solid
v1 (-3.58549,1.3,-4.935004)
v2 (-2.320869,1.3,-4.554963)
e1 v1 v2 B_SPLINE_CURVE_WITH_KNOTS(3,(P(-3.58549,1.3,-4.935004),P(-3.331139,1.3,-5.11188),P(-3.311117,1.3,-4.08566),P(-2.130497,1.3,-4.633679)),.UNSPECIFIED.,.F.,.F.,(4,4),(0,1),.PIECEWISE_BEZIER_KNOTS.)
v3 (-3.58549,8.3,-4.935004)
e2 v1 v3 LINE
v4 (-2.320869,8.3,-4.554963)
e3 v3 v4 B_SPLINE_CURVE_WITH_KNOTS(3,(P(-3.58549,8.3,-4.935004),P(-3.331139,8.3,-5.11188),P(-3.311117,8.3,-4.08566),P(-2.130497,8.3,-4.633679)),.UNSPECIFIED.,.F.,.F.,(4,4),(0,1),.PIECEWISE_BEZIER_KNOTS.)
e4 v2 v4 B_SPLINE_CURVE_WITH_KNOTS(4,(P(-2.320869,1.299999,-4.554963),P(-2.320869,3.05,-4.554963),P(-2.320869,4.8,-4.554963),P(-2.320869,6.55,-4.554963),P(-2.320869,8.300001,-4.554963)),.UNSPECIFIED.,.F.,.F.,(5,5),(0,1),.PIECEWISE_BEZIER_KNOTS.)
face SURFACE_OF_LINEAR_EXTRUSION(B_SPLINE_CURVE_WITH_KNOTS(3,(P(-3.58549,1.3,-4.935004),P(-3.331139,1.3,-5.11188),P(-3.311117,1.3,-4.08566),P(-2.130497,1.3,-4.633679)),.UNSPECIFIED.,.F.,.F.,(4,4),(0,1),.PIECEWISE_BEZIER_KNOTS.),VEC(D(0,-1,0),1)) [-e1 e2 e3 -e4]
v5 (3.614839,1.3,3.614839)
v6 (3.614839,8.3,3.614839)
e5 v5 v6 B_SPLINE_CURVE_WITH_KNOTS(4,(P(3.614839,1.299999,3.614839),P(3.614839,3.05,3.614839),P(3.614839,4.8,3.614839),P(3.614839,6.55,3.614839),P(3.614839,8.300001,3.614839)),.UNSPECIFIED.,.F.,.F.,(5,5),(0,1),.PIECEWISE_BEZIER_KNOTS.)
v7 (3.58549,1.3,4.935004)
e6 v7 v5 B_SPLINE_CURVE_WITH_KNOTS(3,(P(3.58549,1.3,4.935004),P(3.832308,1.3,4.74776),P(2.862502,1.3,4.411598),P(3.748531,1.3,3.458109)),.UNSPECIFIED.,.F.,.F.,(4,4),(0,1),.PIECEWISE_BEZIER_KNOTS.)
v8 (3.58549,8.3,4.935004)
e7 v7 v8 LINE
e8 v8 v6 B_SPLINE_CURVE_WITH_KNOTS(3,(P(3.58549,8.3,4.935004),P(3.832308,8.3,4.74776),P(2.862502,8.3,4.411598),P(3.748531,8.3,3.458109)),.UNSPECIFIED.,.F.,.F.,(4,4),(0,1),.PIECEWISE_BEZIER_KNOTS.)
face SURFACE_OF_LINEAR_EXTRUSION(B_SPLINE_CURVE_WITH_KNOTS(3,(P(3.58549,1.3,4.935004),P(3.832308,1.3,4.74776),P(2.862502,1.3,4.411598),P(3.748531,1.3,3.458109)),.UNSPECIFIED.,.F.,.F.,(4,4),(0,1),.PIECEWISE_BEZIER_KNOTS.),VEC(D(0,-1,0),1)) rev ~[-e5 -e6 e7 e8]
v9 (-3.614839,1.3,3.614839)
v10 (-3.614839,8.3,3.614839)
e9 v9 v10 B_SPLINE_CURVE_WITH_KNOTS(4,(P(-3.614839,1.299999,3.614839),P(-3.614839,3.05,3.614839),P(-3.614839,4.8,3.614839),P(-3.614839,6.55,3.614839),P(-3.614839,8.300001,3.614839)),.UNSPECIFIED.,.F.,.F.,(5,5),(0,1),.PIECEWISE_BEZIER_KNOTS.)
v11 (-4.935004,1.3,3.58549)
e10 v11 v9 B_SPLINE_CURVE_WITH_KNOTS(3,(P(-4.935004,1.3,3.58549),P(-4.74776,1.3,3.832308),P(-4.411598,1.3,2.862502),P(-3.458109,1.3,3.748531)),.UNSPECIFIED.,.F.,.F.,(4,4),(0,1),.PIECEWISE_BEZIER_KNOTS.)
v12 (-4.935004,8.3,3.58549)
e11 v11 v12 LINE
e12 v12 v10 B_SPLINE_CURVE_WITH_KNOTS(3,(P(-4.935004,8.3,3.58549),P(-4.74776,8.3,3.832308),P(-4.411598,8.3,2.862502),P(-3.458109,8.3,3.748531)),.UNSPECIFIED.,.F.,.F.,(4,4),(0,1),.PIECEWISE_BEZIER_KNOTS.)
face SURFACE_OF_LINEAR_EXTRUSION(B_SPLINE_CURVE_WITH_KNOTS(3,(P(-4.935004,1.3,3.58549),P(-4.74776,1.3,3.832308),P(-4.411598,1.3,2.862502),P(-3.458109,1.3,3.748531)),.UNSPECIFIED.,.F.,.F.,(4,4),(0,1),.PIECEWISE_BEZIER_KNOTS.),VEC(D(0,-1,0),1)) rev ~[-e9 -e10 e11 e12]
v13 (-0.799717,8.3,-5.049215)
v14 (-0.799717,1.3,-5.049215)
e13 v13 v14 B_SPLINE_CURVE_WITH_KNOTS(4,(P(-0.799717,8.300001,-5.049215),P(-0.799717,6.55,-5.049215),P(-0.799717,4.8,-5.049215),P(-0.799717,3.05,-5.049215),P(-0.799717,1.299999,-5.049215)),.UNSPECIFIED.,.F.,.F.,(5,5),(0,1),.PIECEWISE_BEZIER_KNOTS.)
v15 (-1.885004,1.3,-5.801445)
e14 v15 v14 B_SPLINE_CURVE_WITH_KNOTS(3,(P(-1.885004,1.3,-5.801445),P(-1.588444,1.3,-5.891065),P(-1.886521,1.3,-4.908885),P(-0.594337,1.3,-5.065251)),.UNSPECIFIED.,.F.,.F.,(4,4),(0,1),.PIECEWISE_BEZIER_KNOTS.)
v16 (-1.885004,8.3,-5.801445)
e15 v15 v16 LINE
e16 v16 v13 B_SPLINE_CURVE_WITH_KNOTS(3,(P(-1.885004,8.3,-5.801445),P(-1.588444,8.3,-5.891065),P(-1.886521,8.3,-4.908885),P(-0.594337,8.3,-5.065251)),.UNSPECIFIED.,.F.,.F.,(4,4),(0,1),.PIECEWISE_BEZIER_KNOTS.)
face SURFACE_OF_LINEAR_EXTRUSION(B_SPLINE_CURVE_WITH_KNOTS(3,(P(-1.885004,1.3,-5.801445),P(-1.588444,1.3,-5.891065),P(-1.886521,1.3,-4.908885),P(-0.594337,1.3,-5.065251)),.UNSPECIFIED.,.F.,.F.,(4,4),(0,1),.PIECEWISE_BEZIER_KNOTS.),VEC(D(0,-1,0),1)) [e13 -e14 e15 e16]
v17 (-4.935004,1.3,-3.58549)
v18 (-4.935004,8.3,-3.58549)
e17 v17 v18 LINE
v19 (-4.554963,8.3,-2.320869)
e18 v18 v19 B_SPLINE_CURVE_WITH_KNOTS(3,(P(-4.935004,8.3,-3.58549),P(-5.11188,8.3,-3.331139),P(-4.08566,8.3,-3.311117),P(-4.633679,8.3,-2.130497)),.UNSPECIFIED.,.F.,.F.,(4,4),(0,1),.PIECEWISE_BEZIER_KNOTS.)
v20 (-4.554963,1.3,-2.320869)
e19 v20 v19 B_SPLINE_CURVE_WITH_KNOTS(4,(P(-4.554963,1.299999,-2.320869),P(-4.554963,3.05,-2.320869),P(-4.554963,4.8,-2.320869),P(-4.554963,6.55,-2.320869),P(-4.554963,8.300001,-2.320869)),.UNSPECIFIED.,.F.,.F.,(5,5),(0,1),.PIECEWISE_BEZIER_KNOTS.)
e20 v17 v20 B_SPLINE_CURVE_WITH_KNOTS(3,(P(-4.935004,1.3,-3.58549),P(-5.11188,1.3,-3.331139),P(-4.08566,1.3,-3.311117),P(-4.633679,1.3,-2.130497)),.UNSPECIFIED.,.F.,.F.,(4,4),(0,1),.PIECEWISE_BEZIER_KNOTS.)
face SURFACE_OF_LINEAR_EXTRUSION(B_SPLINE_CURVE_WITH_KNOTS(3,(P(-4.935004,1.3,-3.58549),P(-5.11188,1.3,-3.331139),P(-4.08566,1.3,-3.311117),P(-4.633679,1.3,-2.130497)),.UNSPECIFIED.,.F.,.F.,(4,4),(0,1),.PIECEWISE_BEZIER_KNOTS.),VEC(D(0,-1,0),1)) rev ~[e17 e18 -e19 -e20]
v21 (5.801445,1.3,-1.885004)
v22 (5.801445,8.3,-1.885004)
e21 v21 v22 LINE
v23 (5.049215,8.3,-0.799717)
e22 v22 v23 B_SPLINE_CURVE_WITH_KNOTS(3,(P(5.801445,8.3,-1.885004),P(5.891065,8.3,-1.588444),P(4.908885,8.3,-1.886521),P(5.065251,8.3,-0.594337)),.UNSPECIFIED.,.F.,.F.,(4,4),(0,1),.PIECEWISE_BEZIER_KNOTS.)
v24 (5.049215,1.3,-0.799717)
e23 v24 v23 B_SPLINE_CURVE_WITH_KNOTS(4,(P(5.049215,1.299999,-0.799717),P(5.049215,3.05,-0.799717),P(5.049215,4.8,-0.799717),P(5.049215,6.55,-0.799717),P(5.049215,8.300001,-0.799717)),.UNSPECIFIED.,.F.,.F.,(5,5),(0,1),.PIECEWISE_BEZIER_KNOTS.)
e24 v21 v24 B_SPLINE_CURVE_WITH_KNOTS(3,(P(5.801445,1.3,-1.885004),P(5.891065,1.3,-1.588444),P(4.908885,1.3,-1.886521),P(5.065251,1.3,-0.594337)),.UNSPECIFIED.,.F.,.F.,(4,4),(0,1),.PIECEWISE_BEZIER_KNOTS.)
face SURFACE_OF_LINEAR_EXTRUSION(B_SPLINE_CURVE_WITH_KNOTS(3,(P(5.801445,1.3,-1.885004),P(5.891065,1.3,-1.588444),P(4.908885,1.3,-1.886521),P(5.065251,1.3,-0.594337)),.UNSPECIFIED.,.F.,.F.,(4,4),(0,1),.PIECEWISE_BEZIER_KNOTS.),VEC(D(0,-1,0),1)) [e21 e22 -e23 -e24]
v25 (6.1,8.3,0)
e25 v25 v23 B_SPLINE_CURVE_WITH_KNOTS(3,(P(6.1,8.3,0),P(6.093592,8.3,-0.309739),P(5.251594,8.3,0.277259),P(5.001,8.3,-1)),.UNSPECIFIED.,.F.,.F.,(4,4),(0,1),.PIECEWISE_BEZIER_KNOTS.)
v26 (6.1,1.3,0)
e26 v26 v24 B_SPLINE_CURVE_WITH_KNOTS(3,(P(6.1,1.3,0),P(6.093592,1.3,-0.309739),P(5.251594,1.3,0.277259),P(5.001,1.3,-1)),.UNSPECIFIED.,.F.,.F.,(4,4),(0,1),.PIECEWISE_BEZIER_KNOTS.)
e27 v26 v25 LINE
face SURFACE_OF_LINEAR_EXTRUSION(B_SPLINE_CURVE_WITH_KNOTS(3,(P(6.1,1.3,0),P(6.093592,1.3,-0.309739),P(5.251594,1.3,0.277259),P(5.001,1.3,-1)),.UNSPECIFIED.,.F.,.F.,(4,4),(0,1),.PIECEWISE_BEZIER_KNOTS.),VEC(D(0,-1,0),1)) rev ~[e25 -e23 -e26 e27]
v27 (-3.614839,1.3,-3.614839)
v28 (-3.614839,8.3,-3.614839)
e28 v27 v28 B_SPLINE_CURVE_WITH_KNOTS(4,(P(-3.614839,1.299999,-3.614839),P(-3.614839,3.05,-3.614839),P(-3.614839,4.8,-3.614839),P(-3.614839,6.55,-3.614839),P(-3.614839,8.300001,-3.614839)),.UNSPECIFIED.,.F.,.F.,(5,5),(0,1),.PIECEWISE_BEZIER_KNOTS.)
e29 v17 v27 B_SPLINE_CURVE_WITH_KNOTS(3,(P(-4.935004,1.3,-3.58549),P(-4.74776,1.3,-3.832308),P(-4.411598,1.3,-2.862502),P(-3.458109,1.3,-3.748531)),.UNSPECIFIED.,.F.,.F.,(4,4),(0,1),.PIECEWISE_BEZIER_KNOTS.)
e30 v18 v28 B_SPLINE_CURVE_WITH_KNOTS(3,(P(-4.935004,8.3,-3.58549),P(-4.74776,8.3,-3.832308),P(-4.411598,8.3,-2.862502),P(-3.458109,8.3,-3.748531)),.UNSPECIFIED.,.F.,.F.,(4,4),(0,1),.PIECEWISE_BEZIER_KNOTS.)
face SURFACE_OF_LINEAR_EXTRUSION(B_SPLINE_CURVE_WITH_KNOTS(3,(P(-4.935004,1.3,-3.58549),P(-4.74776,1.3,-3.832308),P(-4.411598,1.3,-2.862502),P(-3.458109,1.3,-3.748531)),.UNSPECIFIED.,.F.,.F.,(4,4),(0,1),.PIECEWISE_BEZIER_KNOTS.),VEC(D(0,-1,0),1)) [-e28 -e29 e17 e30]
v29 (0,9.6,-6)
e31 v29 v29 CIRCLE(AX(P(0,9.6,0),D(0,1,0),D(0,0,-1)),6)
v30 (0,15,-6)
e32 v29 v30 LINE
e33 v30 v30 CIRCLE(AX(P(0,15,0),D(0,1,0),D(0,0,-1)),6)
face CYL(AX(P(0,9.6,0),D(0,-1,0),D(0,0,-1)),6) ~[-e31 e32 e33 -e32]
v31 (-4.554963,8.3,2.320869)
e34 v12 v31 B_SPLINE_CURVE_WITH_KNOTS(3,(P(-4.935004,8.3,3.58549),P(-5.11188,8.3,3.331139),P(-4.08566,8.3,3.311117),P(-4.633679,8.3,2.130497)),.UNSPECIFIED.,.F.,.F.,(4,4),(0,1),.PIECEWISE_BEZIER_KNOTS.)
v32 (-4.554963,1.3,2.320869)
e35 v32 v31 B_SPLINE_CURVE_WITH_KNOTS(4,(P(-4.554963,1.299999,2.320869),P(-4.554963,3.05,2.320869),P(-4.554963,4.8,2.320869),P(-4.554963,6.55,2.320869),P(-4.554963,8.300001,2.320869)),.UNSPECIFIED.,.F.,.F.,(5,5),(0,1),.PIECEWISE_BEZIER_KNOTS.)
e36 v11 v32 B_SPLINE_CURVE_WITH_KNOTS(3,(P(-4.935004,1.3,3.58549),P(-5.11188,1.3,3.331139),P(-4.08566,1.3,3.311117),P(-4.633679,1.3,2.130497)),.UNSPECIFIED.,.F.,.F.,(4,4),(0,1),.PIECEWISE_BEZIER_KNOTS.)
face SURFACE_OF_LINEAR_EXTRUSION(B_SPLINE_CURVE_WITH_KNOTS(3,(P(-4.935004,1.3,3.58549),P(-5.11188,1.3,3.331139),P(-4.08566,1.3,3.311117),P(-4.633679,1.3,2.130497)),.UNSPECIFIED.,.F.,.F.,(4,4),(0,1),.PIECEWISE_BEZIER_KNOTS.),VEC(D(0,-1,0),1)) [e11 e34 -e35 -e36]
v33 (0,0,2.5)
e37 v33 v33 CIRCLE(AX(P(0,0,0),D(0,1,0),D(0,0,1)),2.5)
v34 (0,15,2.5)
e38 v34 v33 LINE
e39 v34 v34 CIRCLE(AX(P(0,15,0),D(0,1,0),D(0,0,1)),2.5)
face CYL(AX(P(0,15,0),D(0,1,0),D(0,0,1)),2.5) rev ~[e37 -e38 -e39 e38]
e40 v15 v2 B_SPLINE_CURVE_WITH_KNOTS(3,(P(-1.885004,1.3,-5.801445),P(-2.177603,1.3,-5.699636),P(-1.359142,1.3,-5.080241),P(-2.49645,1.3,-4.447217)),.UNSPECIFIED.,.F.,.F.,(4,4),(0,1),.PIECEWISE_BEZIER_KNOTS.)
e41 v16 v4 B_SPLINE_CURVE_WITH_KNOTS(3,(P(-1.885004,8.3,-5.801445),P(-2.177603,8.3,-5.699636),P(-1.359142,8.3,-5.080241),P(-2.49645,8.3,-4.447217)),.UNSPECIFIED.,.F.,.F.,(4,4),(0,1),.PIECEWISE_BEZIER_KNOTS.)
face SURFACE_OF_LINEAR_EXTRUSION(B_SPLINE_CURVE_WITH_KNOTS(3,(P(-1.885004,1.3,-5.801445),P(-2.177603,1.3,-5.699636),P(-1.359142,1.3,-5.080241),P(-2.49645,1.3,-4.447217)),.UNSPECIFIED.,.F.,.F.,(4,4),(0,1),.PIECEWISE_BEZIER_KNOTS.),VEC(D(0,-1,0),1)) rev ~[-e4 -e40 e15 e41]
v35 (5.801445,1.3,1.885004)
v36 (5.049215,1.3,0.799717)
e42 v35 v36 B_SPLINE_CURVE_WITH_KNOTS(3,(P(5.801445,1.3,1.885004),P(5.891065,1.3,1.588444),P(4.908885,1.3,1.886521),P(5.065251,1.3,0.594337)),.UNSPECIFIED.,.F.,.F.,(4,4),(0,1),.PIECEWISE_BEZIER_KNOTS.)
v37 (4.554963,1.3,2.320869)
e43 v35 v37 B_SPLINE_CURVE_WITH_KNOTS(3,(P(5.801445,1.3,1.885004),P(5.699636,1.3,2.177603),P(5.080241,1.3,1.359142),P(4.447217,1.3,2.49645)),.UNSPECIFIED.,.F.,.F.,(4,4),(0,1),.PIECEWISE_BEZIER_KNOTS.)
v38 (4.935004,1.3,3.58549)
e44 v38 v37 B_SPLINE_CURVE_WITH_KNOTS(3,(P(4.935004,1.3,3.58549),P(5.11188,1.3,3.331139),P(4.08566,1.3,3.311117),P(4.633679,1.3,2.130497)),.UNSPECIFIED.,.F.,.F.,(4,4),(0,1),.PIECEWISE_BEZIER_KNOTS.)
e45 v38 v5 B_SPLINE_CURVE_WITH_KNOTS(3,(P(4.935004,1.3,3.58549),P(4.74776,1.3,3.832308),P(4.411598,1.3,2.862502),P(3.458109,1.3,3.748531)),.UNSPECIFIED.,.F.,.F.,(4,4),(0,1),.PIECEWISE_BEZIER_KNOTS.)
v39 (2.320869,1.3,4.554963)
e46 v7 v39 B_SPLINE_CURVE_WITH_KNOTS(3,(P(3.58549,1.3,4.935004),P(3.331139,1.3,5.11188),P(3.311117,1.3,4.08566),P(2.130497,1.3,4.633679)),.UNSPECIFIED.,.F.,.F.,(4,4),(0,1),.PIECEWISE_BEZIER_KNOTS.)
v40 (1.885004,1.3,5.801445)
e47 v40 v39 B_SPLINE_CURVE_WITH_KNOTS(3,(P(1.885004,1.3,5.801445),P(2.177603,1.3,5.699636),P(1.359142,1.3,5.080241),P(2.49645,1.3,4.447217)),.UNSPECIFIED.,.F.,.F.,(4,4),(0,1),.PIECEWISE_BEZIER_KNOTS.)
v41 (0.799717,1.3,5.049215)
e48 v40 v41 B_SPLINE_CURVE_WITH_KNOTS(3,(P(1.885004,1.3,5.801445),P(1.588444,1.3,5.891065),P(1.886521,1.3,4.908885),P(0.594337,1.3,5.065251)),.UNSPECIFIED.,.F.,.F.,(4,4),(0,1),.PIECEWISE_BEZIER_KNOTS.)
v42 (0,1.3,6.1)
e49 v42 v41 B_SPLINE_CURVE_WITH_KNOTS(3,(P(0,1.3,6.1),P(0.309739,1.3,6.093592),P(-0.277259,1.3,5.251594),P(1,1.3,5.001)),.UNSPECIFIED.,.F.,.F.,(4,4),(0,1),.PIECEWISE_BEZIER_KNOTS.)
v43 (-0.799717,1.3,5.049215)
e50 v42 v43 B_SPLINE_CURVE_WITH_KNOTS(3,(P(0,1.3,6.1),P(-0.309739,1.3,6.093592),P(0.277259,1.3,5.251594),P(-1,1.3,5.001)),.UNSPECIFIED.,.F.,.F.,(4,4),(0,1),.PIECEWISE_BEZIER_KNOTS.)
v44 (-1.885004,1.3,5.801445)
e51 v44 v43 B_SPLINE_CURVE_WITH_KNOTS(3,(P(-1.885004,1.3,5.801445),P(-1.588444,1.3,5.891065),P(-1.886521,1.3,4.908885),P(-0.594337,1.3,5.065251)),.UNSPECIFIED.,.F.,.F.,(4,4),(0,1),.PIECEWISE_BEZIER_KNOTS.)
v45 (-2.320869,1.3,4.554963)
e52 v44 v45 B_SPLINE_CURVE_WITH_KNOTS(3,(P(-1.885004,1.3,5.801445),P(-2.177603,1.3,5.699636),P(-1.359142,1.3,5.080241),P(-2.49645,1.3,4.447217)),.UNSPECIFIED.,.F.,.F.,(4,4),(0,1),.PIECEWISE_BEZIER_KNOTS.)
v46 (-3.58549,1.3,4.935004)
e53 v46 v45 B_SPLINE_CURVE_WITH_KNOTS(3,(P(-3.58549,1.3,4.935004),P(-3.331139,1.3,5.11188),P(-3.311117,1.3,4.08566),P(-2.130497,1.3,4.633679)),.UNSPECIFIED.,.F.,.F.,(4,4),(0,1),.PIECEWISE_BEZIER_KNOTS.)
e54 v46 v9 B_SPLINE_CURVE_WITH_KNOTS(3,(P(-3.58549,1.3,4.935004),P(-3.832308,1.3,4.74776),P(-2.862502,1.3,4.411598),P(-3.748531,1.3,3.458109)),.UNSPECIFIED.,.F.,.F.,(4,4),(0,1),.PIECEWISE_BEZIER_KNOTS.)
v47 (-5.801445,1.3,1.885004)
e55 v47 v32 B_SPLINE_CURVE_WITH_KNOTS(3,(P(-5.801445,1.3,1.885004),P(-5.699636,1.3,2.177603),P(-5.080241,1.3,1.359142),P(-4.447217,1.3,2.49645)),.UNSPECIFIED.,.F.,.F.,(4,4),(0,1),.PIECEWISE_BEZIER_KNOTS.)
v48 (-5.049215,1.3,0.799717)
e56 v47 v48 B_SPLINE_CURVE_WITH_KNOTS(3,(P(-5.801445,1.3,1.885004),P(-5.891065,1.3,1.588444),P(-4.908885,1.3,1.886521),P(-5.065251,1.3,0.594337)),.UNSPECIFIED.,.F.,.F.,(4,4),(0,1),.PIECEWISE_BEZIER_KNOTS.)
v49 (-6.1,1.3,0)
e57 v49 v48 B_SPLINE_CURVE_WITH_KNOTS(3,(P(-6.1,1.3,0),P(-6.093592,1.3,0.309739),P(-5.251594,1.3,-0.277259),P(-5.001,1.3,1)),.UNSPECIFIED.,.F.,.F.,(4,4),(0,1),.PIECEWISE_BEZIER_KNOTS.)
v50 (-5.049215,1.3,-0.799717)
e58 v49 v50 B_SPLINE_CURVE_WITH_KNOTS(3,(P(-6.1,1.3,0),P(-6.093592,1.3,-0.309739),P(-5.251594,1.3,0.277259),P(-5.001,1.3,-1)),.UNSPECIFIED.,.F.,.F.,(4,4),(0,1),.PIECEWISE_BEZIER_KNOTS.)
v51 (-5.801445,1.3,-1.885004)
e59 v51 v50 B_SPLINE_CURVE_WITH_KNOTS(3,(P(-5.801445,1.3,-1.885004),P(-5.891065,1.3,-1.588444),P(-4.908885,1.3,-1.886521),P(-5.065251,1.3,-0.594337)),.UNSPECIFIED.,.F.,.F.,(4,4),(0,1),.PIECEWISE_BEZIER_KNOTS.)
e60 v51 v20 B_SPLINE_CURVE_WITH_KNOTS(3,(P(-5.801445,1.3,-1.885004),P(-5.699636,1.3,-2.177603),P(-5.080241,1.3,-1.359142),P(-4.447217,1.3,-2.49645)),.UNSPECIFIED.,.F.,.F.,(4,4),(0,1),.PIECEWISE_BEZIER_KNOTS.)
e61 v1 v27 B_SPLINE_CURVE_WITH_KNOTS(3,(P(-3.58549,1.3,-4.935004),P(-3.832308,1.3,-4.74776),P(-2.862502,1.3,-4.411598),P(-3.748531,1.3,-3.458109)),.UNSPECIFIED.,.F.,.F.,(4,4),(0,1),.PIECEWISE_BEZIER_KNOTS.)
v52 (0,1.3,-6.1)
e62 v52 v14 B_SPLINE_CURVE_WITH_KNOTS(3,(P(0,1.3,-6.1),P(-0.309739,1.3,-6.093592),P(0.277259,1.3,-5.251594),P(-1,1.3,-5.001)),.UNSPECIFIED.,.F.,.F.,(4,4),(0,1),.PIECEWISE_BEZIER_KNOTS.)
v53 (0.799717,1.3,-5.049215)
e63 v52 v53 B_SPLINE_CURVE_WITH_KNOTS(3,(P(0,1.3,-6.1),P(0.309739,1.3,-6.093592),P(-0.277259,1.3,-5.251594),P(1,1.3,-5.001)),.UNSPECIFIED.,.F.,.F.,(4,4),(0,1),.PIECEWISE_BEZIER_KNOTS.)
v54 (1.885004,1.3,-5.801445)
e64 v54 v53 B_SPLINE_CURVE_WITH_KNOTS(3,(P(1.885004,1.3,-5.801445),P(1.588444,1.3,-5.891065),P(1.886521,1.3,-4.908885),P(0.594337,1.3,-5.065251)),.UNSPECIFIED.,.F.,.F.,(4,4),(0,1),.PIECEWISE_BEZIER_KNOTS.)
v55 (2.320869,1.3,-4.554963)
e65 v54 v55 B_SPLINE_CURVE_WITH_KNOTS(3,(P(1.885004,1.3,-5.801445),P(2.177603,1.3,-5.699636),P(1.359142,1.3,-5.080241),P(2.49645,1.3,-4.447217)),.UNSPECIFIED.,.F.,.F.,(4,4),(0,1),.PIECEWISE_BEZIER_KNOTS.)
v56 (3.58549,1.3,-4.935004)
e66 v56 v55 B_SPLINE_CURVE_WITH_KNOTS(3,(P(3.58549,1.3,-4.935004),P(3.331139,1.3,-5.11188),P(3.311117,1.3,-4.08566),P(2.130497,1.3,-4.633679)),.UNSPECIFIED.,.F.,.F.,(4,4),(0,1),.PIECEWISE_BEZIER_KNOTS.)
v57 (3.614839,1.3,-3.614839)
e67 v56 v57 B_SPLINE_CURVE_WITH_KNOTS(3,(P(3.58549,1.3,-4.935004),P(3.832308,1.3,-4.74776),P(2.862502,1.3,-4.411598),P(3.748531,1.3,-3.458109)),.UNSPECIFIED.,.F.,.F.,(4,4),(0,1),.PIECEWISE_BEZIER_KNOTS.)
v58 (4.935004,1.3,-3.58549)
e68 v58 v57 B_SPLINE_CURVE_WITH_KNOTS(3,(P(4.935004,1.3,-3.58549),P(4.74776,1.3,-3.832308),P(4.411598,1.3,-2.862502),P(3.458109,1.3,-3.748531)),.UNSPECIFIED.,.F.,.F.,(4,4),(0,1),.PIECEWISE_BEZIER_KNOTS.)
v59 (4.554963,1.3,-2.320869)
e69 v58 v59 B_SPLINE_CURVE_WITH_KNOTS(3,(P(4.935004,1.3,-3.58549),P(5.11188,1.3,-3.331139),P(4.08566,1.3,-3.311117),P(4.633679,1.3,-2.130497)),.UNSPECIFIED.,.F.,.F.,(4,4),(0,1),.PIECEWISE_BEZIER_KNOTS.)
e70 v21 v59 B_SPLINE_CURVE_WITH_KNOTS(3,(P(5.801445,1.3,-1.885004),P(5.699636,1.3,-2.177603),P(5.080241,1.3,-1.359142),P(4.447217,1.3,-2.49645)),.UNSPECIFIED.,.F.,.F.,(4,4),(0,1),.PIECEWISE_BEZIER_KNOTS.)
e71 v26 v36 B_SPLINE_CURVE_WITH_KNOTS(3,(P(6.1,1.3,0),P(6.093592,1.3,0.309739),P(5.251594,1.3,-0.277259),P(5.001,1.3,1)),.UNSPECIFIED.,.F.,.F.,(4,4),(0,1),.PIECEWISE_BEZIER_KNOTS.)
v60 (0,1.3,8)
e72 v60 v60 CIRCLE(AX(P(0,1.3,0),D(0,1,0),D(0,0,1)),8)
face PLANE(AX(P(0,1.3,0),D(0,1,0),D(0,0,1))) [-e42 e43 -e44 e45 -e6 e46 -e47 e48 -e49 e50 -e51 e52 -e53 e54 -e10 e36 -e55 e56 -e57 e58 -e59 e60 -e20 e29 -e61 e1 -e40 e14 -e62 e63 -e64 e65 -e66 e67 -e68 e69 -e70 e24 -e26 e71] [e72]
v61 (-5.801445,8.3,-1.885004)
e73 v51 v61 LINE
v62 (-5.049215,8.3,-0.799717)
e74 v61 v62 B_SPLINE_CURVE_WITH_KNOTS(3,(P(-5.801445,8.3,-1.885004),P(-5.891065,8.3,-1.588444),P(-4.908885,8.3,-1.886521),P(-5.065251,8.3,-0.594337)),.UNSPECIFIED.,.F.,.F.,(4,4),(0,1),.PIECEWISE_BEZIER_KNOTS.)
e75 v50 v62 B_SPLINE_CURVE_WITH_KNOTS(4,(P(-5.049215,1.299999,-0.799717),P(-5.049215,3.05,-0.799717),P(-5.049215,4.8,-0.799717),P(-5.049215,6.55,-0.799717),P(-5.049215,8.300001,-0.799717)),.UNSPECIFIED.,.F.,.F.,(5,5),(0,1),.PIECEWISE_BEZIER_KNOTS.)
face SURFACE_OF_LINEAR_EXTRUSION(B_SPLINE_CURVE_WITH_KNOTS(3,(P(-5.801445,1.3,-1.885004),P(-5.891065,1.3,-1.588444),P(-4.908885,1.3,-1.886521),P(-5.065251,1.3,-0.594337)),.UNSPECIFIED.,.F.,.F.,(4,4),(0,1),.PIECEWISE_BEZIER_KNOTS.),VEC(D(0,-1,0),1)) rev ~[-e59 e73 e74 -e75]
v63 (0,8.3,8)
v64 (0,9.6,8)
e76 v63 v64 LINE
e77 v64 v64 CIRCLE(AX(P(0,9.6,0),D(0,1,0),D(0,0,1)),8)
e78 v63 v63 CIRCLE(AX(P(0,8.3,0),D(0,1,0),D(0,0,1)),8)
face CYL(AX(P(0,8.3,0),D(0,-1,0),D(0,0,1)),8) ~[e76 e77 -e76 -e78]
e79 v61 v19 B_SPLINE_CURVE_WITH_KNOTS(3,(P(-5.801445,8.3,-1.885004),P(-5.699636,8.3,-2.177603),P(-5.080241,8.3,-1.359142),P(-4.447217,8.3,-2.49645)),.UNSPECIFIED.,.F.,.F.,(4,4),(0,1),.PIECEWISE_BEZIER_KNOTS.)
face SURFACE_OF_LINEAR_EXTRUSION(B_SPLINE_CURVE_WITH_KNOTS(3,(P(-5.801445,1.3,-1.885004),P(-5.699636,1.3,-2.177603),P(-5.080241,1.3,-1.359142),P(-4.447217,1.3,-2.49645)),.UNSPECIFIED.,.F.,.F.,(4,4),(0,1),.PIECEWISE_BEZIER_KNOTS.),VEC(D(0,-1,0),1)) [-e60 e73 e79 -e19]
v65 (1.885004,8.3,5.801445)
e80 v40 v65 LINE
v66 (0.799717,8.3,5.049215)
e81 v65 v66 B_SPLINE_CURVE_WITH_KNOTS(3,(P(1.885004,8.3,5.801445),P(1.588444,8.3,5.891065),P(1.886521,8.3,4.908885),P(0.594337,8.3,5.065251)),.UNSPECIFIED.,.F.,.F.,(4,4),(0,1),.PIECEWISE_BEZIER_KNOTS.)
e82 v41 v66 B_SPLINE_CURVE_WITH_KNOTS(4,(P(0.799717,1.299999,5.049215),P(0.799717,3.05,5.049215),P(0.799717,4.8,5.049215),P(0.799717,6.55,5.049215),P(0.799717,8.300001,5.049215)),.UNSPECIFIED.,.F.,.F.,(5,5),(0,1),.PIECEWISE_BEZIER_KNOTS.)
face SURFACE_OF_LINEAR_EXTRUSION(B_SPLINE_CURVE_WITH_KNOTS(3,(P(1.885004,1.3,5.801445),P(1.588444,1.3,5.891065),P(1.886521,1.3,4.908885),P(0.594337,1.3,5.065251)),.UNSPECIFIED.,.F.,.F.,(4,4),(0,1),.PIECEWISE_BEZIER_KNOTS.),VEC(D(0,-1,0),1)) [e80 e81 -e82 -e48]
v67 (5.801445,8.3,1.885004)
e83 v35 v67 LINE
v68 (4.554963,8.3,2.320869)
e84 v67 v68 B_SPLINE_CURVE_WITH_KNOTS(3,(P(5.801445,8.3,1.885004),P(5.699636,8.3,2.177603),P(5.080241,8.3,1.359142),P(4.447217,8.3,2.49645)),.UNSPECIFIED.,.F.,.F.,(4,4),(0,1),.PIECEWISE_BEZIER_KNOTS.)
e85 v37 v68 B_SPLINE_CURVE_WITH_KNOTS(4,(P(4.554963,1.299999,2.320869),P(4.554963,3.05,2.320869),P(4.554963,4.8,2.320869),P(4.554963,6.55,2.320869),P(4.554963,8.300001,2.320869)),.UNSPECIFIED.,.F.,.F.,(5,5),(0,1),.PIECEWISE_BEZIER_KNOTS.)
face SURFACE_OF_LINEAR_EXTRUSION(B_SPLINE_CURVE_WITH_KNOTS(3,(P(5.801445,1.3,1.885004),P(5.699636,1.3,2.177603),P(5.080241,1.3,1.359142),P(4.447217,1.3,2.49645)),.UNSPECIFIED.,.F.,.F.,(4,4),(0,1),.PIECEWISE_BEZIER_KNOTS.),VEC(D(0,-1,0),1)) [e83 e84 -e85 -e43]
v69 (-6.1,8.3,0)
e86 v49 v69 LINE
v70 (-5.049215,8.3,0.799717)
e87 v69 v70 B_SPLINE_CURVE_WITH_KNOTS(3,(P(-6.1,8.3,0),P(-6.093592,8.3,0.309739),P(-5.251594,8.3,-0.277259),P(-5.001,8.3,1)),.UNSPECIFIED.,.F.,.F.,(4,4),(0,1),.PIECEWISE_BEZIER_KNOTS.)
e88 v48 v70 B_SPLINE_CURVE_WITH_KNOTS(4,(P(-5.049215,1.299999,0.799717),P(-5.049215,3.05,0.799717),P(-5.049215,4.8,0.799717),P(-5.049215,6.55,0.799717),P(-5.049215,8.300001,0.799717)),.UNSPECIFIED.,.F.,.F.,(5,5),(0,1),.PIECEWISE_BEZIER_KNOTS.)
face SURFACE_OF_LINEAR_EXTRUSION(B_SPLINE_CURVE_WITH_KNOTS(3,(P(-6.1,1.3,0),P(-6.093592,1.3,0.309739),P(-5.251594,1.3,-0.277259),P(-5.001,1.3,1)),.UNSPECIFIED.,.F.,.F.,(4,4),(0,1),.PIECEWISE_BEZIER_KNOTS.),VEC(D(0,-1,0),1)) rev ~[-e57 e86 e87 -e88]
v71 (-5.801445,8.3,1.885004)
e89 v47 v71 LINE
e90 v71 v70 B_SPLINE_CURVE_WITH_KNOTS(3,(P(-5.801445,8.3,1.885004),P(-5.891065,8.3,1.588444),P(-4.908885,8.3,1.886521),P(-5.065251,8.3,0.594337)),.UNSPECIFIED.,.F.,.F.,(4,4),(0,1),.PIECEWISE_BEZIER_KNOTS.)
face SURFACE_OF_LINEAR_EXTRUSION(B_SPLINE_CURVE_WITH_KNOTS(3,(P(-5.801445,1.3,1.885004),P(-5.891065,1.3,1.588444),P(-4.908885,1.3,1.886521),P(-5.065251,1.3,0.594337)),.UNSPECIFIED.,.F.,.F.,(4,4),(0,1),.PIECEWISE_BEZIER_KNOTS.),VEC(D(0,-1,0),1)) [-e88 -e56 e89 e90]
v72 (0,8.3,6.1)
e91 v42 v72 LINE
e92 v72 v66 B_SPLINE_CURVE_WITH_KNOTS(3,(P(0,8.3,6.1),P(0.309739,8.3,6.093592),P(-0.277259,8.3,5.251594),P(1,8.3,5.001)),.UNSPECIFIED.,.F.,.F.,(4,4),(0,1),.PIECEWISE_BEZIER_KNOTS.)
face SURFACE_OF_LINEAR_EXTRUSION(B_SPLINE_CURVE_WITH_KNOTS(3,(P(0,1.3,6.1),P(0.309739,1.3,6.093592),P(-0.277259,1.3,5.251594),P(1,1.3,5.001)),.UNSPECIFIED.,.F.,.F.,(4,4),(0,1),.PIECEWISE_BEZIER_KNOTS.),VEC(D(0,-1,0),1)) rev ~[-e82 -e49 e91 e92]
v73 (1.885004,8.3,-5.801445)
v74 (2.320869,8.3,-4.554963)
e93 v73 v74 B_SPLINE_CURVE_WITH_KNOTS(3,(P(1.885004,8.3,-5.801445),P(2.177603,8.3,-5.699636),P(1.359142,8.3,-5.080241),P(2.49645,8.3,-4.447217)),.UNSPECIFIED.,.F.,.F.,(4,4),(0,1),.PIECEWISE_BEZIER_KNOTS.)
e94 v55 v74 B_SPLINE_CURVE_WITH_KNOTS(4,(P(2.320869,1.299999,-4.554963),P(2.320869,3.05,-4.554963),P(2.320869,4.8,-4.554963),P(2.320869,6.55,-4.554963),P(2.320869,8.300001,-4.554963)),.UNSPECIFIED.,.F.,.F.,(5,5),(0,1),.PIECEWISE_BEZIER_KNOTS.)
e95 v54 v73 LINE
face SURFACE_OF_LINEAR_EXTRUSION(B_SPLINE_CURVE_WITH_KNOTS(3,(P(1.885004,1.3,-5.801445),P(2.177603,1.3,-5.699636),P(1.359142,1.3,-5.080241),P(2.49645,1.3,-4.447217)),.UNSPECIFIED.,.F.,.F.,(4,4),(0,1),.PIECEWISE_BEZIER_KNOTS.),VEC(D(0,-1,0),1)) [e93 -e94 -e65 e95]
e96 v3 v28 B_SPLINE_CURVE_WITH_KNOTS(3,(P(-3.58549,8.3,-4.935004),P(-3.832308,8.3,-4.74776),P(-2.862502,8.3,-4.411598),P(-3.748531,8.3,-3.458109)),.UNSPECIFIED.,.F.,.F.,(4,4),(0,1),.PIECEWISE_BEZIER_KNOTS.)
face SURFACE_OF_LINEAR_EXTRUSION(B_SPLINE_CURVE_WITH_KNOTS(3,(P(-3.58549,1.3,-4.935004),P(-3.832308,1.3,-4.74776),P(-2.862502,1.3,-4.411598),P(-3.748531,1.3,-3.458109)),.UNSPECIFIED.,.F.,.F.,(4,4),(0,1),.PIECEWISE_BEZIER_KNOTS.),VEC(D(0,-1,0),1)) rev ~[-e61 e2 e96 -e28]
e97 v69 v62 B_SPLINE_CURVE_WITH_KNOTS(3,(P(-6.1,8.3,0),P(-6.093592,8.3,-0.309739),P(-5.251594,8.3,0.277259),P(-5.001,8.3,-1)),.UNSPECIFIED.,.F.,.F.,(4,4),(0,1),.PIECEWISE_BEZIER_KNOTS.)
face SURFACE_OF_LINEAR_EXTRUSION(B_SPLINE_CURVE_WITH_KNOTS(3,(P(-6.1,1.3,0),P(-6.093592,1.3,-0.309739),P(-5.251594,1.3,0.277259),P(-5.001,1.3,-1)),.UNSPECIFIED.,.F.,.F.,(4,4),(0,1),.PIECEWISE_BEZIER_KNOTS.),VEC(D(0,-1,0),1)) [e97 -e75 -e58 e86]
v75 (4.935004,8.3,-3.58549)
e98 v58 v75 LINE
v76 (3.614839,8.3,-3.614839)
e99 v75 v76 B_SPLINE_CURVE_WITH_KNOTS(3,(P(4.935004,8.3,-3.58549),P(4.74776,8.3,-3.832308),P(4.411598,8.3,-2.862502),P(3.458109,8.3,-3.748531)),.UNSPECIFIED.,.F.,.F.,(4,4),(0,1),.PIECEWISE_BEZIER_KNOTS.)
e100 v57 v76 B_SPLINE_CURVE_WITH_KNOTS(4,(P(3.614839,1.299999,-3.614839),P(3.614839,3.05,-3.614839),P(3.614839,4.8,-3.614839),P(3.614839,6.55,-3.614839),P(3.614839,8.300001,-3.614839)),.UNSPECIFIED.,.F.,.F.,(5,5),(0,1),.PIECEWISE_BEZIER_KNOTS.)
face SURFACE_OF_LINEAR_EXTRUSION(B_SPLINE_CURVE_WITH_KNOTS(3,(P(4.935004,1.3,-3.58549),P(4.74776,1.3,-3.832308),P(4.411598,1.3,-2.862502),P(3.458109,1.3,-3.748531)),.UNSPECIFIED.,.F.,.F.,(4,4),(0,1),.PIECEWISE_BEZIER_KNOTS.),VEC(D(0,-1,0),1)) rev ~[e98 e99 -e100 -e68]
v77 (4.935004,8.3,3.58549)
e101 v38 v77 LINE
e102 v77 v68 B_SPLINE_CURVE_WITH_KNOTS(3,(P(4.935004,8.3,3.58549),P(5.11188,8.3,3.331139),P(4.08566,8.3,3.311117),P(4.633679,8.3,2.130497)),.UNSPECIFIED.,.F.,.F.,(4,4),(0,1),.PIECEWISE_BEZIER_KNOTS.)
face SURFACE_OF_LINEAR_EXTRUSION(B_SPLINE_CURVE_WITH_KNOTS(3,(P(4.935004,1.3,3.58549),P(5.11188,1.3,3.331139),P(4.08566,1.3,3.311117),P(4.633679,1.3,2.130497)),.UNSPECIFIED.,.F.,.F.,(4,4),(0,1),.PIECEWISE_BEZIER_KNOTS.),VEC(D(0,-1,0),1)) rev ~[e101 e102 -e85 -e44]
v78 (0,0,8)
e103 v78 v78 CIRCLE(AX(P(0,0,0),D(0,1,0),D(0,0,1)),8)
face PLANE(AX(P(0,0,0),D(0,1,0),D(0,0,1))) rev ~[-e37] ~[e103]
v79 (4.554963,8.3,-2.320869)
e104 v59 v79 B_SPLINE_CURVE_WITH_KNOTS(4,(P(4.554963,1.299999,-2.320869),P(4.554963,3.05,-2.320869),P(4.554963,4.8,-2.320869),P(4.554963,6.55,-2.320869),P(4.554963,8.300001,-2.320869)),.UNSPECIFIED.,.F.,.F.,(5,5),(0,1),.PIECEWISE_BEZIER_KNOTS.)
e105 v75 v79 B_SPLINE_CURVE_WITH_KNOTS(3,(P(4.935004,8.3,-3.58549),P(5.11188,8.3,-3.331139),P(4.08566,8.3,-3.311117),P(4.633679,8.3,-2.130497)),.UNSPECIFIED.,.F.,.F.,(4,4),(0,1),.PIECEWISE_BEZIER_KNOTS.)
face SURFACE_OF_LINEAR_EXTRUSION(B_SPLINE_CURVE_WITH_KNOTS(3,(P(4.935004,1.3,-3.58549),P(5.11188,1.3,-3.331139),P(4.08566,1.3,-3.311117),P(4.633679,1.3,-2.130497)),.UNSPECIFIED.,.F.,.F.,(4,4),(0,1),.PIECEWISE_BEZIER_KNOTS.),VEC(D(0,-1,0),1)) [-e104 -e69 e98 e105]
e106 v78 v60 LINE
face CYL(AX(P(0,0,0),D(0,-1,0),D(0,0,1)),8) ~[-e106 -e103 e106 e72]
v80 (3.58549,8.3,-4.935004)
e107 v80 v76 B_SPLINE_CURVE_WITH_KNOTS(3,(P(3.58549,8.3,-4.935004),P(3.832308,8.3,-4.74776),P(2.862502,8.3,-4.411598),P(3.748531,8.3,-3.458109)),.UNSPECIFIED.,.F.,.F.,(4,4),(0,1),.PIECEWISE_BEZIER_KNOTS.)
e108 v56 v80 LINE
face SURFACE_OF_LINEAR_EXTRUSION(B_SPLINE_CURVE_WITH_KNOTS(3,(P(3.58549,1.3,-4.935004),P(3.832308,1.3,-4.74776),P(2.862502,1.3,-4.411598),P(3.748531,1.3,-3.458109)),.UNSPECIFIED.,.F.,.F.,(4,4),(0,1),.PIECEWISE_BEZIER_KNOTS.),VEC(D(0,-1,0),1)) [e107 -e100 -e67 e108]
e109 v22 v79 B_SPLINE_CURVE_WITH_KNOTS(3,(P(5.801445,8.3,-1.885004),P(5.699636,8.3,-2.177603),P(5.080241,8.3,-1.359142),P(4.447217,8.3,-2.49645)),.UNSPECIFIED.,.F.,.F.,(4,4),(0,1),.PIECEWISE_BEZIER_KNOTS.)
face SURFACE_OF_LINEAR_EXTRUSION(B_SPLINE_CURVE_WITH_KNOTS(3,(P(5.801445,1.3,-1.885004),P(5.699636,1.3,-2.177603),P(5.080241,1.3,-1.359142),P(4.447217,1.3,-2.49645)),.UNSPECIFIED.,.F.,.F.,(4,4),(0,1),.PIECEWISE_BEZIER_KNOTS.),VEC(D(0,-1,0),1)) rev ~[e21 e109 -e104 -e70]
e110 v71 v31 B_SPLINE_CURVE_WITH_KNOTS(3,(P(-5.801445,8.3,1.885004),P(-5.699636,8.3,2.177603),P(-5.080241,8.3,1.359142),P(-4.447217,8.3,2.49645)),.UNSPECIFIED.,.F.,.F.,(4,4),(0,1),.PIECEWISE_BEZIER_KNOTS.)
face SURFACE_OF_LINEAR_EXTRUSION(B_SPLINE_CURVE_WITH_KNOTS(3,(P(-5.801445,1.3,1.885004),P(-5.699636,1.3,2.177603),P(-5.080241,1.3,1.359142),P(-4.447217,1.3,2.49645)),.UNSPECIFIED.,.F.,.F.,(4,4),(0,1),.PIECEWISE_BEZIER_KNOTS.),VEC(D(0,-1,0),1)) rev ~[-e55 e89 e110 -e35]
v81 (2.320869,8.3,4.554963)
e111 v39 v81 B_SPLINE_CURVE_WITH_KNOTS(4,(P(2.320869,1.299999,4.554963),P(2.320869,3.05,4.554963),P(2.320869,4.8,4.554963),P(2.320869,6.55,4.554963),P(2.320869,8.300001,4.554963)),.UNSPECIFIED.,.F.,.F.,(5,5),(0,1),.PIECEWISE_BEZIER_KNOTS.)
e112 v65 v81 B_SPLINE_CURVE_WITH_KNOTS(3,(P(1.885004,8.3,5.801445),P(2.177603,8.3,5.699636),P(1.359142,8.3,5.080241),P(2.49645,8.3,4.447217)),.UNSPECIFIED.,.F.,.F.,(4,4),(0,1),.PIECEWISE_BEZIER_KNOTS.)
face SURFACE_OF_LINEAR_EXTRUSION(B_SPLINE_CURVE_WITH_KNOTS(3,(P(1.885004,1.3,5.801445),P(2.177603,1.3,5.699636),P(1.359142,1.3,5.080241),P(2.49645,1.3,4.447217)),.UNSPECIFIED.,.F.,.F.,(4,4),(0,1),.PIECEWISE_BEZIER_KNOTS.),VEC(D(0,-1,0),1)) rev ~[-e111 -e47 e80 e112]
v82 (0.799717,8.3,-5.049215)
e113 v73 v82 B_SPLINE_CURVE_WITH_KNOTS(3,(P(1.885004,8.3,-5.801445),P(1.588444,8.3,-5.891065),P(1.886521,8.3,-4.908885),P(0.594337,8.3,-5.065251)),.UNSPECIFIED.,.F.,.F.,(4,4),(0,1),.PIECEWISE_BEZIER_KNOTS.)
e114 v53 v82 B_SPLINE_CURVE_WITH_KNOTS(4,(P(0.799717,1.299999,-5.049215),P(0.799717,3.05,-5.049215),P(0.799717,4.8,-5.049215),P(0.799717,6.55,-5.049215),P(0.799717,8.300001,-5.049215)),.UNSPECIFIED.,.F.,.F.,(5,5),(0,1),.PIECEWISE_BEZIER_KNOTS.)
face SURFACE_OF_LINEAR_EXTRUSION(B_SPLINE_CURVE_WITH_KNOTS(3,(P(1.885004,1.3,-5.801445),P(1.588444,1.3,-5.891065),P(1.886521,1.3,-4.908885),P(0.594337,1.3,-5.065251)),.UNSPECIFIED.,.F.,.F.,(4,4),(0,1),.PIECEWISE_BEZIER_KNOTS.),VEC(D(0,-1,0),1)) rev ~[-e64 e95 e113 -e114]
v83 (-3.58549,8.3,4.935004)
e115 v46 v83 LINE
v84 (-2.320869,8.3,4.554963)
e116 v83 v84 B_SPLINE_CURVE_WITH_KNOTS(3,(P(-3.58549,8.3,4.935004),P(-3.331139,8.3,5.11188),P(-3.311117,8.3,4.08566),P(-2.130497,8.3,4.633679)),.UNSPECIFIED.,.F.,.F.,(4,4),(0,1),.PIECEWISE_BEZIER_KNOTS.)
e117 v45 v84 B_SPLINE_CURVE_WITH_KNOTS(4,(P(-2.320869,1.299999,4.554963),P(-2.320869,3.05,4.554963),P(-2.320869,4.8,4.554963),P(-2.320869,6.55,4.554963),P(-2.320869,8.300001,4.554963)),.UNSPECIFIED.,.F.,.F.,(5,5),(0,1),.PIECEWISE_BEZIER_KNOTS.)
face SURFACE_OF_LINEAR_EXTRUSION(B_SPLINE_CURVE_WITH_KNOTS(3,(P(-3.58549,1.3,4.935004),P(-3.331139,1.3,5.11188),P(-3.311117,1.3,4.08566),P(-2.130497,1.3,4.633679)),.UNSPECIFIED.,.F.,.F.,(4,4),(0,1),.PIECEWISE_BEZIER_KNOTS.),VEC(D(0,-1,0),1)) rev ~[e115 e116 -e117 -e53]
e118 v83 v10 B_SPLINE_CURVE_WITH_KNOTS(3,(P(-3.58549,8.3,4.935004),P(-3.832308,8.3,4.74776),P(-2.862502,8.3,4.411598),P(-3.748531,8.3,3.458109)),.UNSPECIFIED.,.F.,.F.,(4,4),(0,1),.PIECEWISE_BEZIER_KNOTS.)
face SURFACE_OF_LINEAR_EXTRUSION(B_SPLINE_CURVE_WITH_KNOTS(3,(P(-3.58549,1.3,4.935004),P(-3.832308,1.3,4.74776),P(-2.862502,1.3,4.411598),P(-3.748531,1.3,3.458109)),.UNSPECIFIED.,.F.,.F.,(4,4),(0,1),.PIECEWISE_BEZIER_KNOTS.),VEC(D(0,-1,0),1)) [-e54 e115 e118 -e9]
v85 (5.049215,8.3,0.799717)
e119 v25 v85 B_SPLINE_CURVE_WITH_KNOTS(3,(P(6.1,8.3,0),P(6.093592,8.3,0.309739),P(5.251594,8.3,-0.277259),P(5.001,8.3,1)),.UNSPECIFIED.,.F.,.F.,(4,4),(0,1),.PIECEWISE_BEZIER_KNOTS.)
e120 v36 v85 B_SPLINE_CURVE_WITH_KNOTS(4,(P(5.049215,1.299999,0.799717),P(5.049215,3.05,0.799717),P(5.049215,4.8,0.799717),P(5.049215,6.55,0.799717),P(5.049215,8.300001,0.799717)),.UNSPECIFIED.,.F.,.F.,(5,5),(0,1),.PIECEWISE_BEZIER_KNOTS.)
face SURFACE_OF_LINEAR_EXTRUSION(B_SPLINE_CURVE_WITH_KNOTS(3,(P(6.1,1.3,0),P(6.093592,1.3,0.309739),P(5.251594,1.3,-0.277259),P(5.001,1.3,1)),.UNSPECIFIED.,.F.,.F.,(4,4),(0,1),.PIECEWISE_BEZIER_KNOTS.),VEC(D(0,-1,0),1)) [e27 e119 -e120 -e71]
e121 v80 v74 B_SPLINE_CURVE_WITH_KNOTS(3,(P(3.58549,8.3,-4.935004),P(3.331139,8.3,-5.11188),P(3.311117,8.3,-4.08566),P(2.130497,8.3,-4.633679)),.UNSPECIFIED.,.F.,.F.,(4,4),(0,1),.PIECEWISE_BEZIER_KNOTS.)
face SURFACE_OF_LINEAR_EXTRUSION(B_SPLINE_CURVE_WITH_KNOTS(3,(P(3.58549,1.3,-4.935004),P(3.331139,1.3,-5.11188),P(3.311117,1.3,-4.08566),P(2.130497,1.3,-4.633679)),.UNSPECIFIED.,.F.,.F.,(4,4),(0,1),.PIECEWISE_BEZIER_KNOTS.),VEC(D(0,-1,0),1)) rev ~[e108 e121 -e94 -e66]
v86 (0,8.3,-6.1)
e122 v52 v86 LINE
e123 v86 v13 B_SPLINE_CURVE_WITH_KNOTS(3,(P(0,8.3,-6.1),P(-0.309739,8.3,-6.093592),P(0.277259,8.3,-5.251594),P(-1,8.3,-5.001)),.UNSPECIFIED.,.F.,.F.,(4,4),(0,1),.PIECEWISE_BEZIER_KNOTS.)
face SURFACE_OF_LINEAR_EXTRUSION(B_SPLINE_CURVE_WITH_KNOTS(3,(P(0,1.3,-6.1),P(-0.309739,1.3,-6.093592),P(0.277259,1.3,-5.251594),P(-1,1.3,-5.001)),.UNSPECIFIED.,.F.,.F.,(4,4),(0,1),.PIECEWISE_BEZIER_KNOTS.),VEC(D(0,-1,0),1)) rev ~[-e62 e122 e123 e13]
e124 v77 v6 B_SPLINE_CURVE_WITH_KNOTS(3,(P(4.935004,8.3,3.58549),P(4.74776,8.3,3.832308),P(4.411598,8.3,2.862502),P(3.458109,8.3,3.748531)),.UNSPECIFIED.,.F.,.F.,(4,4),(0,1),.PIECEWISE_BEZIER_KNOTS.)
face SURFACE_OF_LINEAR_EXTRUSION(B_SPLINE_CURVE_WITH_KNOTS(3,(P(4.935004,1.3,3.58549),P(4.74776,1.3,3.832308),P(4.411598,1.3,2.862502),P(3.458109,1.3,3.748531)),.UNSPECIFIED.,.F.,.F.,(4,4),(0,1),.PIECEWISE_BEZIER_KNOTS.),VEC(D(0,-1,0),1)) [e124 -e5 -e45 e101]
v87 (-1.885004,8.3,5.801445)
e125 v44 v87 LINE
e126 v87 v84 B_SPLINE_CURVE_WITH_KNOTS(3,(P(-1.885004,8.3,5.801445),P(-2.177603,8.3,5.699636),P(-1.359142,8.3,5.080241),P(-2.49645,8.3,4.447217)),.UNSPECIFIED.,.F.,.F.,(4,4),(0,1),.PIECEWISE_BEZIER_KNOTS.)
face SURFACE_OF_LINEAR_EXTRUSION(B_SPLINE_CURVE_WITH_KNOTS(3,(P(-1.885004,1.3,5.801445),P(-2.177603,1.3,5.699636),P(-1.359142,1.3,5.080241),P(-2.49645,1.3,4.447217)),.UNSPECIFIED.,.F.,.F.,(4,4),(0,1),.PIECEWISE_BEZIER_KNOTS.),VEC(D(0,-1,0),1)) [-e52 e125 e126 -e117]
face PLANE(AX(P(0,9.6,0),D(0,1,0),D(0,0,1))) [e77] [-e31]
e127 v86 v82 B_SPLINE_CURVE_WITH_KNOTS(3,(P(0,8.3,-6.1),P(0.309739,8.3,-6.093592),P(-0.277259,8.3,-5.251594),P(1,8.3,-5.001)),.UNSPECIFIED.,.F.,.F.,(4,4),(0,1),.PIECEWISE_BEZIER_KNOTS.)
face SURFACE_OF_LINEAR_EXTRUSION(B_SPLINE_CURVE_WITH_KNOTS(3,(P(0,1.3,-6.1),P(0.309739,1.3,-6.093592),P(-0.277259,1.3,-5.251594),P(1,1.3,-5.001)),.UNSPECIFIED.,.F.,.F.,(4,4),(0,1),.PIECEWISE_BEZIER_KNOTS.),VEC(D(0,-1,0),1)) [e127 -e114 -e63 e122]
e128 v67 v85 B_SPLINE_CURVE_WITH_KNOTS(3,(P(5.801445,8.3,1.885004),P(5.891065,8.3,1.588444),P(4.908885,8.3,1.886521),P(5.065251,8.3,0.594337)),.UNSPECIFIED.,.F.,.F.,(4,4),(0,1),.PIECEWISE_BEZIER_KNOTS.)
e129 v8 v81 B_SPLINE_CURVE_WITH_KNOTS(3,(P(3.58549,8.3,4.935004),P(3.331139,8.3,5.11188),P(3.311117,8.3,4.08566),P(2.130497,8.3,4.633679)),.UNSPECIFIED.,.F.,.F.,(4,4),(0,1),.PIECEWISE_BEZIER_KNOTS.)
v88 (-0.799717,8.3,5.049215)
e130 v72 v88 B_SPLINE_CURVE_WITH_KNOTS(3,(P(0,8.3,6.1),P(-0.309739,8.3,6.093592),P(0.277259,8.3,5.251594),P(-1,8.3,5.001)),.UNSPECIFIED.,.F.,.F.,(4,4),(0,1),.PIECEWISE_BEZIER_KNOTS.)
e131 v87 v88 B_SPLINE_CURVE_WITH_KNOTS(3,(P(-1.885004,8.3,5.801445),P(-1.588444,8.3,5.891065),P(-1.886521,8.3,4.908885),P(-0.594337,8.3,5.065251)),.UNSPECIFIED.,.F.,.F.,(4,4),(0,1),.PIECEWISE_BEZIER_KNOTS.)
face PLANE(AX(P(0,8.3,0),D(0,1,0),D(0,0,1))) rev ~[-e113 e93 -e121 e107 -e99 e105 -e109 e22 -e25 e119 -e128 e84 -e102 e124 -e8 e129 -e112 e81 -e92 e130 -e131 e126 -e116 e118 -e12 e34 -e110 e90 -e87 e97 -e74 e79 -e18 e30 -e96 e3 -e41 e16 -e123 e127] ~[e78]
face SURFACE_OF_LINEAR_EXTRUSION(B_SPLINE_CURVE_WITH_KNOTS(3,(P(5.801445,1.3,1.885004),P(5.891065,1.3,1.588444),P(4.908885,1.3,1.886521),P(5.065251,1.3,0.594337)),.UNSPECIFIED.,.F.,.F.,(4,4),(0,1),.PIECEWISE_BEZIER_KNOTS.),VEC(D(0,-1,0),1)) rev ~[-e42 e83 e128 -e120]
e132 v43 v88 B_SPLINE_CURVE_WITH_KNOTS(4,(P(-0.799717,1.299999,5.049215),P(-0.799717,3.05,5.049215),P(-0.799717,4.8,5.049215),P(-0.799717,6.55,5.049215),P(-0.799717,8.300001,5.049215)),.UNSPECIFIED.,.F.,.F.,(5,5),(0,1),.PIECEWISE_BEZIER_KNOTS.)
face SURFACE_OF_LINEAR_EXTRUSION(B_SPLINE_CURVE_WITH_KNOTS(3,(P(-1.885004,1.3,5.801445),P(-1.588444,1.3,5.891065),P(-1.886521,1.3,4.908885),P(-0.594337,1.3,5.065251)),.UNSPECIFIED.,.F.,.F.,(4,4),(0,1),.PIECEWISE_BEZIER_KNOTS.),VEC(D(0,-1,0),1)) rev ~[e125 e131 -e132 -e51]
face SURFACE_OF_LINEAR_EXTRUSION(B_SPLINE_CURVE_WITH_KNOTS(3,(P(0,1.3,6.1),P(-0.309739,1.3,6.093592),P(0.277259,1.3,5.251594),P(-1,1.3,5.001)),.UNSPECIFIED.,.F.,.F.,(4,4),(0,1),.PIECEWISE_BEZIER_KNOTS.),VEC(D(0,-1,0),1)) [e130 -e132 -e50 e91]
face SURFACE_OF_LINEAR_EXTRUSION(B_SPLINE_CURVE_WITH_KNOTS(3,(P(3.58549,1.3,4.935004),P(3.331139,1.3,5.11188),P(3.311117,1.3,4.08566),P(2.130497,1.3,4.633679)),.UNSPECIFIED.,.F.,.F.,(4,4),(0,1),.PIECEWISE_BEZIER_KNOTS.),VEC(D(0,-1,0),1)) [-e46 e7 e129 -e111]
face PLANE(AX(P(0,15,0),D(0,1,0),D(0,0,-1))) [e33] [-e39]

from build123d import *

# Parameters (mm, degrees)
SKETCH1_R           = 8
BOSS_EXTRUDE1_DEPTH = 1.3
SKETCH4_R           = 5.099466978
BOSS_EXTRUDE3_DEPTH = 7
BOSS_EXTRUDE2_DEPTH = 7
CIRPATTERN1_COUNT   = 20
SKETCH5_R           = 8
BOSS_EXTRUDE4_DEPTH = 1.3
SKETCH6_R           = 6
BOSS_EXTRUDE5_DEPTH = 5.4
CUT_EXTRUDE1_REACH  = 20.788
SKETCH7_R           = 2.5


with BuildPart() as part:
    # Sketch1 → Boss-Extrude1 (new body)
    with BuildSketch(Plane(origin=(0, 0, 0), x_dir=(1, 0, 0), z_dir=(0, 1, 0))):
        with Locations(Location((0, 0, 0), (0, 0, 270))):
            Circle(SKETCH1_R)
    extrude(amount=BOSS_EXTRUDE1_DEPTH)

    # Sketch4 → Boss-Extrude3 (add)
    with BuildSketch(Plane(origin=(0, 1.3, 0), x_dir=(1, 0, 0), z_dir=(0, 1, 0))):
        with Locations(Location((0, 0, 0), (0, 0, 270))):
            Circle(SKETCH4_R)
    extrude(amount=BOSS_EXTRUDE3_DEPTH)

    # Sketch2 → Boss-Extrude2 (add)
    with BuildSketch(Plane(origin=(0, 1.3, 0), x_dir=(1, 0, 0), z_dir=(0, 1, 0))):
        with BuildLine():
            Line((1, 5.0009999), (-1, 5.0009999))
            add(Edge.make_bspline(
                [(0, 6.1), (-0.309739321, 6.093592301), (0.277259436, 5.251593977), (-1, 5.0009999)],
                knots=[0, 0, 0, 0, 1, 1, 1, 1], degree=3))
            add(Edge.make_bspline(
                [(0, 6.1), (0.309739321, 6.093592301), (-0.277259436, 5.251593977), (1, 5.0009999)],
                knots=[0, 0, 0, 0, 1, 1, 1, 1], degree=3))
        make_face()
    boss_extrude2 = extrude(amount=BOSS_EXTRUDE2_DEPTH)

    # CirPattern1: Boss-Extrude2 ×20 about axis
    cirpattern1_axis = Axis((0, 1.3, 0), (0, -1, 0))
    for i in range(1, CIRPATTERN1_COUNT):
        add(boss_extrude2.rotate(cirpattern1_axis, i * 360 / CIRPATTERN1_COUNT))

    # Sketch5 → Boss-Extrude4 (add)
    with BuildSketch(Plane(origin=(0, 8.3, 0), x_dir=(1, 0, 0), z_dir=(0, 1, 0))):
        with Locations(Location((0, 0, 0), (0, 0, 270))):
            Circle(SKETCH5_R)
    extrude(amount=BOSS_EXTRUDE4_DEPTH)

    # Sketch6 → Boss-Extrude5 (add)
    with BuildSketch(Plane(origin=(0, 9.6, 0), x_dir=(1, 0, 0), z_dir=(0, 1, 0))):
        with Locations(Location((0, 0, 0), (0, 0, 90))):
            Circle(SKETCH6_R)
    extrude(amount=BOSS_EXTRUDE5_DEPTH)

    # Sketch7 → Cut-Extrude1 (cut, up to next)
    with BuildSketch(Plane(origin=(0, 15, 0), x_dir=(1, 0, 0), z_dir=(0, 1, 0)), mode=Mode.PRIVATE) as cut_extrude1_sk1:
        with Locations(Location((0, 0, 0), (0, 0, 270))):
            Circle(SKETCH7_R)
    cut_extrude1_tool1 = extrude(cut_extrude1_sk1.sketch, amount=-CUT_EXTRUDE1_REACH, mode=Mode.PRIVATE) & part.part
    add(cut_extrude1_tool1.solids().sort_by_distance((0, 15, 0))[0], mode=Mode.SUBTRACT)


solid = part.part
